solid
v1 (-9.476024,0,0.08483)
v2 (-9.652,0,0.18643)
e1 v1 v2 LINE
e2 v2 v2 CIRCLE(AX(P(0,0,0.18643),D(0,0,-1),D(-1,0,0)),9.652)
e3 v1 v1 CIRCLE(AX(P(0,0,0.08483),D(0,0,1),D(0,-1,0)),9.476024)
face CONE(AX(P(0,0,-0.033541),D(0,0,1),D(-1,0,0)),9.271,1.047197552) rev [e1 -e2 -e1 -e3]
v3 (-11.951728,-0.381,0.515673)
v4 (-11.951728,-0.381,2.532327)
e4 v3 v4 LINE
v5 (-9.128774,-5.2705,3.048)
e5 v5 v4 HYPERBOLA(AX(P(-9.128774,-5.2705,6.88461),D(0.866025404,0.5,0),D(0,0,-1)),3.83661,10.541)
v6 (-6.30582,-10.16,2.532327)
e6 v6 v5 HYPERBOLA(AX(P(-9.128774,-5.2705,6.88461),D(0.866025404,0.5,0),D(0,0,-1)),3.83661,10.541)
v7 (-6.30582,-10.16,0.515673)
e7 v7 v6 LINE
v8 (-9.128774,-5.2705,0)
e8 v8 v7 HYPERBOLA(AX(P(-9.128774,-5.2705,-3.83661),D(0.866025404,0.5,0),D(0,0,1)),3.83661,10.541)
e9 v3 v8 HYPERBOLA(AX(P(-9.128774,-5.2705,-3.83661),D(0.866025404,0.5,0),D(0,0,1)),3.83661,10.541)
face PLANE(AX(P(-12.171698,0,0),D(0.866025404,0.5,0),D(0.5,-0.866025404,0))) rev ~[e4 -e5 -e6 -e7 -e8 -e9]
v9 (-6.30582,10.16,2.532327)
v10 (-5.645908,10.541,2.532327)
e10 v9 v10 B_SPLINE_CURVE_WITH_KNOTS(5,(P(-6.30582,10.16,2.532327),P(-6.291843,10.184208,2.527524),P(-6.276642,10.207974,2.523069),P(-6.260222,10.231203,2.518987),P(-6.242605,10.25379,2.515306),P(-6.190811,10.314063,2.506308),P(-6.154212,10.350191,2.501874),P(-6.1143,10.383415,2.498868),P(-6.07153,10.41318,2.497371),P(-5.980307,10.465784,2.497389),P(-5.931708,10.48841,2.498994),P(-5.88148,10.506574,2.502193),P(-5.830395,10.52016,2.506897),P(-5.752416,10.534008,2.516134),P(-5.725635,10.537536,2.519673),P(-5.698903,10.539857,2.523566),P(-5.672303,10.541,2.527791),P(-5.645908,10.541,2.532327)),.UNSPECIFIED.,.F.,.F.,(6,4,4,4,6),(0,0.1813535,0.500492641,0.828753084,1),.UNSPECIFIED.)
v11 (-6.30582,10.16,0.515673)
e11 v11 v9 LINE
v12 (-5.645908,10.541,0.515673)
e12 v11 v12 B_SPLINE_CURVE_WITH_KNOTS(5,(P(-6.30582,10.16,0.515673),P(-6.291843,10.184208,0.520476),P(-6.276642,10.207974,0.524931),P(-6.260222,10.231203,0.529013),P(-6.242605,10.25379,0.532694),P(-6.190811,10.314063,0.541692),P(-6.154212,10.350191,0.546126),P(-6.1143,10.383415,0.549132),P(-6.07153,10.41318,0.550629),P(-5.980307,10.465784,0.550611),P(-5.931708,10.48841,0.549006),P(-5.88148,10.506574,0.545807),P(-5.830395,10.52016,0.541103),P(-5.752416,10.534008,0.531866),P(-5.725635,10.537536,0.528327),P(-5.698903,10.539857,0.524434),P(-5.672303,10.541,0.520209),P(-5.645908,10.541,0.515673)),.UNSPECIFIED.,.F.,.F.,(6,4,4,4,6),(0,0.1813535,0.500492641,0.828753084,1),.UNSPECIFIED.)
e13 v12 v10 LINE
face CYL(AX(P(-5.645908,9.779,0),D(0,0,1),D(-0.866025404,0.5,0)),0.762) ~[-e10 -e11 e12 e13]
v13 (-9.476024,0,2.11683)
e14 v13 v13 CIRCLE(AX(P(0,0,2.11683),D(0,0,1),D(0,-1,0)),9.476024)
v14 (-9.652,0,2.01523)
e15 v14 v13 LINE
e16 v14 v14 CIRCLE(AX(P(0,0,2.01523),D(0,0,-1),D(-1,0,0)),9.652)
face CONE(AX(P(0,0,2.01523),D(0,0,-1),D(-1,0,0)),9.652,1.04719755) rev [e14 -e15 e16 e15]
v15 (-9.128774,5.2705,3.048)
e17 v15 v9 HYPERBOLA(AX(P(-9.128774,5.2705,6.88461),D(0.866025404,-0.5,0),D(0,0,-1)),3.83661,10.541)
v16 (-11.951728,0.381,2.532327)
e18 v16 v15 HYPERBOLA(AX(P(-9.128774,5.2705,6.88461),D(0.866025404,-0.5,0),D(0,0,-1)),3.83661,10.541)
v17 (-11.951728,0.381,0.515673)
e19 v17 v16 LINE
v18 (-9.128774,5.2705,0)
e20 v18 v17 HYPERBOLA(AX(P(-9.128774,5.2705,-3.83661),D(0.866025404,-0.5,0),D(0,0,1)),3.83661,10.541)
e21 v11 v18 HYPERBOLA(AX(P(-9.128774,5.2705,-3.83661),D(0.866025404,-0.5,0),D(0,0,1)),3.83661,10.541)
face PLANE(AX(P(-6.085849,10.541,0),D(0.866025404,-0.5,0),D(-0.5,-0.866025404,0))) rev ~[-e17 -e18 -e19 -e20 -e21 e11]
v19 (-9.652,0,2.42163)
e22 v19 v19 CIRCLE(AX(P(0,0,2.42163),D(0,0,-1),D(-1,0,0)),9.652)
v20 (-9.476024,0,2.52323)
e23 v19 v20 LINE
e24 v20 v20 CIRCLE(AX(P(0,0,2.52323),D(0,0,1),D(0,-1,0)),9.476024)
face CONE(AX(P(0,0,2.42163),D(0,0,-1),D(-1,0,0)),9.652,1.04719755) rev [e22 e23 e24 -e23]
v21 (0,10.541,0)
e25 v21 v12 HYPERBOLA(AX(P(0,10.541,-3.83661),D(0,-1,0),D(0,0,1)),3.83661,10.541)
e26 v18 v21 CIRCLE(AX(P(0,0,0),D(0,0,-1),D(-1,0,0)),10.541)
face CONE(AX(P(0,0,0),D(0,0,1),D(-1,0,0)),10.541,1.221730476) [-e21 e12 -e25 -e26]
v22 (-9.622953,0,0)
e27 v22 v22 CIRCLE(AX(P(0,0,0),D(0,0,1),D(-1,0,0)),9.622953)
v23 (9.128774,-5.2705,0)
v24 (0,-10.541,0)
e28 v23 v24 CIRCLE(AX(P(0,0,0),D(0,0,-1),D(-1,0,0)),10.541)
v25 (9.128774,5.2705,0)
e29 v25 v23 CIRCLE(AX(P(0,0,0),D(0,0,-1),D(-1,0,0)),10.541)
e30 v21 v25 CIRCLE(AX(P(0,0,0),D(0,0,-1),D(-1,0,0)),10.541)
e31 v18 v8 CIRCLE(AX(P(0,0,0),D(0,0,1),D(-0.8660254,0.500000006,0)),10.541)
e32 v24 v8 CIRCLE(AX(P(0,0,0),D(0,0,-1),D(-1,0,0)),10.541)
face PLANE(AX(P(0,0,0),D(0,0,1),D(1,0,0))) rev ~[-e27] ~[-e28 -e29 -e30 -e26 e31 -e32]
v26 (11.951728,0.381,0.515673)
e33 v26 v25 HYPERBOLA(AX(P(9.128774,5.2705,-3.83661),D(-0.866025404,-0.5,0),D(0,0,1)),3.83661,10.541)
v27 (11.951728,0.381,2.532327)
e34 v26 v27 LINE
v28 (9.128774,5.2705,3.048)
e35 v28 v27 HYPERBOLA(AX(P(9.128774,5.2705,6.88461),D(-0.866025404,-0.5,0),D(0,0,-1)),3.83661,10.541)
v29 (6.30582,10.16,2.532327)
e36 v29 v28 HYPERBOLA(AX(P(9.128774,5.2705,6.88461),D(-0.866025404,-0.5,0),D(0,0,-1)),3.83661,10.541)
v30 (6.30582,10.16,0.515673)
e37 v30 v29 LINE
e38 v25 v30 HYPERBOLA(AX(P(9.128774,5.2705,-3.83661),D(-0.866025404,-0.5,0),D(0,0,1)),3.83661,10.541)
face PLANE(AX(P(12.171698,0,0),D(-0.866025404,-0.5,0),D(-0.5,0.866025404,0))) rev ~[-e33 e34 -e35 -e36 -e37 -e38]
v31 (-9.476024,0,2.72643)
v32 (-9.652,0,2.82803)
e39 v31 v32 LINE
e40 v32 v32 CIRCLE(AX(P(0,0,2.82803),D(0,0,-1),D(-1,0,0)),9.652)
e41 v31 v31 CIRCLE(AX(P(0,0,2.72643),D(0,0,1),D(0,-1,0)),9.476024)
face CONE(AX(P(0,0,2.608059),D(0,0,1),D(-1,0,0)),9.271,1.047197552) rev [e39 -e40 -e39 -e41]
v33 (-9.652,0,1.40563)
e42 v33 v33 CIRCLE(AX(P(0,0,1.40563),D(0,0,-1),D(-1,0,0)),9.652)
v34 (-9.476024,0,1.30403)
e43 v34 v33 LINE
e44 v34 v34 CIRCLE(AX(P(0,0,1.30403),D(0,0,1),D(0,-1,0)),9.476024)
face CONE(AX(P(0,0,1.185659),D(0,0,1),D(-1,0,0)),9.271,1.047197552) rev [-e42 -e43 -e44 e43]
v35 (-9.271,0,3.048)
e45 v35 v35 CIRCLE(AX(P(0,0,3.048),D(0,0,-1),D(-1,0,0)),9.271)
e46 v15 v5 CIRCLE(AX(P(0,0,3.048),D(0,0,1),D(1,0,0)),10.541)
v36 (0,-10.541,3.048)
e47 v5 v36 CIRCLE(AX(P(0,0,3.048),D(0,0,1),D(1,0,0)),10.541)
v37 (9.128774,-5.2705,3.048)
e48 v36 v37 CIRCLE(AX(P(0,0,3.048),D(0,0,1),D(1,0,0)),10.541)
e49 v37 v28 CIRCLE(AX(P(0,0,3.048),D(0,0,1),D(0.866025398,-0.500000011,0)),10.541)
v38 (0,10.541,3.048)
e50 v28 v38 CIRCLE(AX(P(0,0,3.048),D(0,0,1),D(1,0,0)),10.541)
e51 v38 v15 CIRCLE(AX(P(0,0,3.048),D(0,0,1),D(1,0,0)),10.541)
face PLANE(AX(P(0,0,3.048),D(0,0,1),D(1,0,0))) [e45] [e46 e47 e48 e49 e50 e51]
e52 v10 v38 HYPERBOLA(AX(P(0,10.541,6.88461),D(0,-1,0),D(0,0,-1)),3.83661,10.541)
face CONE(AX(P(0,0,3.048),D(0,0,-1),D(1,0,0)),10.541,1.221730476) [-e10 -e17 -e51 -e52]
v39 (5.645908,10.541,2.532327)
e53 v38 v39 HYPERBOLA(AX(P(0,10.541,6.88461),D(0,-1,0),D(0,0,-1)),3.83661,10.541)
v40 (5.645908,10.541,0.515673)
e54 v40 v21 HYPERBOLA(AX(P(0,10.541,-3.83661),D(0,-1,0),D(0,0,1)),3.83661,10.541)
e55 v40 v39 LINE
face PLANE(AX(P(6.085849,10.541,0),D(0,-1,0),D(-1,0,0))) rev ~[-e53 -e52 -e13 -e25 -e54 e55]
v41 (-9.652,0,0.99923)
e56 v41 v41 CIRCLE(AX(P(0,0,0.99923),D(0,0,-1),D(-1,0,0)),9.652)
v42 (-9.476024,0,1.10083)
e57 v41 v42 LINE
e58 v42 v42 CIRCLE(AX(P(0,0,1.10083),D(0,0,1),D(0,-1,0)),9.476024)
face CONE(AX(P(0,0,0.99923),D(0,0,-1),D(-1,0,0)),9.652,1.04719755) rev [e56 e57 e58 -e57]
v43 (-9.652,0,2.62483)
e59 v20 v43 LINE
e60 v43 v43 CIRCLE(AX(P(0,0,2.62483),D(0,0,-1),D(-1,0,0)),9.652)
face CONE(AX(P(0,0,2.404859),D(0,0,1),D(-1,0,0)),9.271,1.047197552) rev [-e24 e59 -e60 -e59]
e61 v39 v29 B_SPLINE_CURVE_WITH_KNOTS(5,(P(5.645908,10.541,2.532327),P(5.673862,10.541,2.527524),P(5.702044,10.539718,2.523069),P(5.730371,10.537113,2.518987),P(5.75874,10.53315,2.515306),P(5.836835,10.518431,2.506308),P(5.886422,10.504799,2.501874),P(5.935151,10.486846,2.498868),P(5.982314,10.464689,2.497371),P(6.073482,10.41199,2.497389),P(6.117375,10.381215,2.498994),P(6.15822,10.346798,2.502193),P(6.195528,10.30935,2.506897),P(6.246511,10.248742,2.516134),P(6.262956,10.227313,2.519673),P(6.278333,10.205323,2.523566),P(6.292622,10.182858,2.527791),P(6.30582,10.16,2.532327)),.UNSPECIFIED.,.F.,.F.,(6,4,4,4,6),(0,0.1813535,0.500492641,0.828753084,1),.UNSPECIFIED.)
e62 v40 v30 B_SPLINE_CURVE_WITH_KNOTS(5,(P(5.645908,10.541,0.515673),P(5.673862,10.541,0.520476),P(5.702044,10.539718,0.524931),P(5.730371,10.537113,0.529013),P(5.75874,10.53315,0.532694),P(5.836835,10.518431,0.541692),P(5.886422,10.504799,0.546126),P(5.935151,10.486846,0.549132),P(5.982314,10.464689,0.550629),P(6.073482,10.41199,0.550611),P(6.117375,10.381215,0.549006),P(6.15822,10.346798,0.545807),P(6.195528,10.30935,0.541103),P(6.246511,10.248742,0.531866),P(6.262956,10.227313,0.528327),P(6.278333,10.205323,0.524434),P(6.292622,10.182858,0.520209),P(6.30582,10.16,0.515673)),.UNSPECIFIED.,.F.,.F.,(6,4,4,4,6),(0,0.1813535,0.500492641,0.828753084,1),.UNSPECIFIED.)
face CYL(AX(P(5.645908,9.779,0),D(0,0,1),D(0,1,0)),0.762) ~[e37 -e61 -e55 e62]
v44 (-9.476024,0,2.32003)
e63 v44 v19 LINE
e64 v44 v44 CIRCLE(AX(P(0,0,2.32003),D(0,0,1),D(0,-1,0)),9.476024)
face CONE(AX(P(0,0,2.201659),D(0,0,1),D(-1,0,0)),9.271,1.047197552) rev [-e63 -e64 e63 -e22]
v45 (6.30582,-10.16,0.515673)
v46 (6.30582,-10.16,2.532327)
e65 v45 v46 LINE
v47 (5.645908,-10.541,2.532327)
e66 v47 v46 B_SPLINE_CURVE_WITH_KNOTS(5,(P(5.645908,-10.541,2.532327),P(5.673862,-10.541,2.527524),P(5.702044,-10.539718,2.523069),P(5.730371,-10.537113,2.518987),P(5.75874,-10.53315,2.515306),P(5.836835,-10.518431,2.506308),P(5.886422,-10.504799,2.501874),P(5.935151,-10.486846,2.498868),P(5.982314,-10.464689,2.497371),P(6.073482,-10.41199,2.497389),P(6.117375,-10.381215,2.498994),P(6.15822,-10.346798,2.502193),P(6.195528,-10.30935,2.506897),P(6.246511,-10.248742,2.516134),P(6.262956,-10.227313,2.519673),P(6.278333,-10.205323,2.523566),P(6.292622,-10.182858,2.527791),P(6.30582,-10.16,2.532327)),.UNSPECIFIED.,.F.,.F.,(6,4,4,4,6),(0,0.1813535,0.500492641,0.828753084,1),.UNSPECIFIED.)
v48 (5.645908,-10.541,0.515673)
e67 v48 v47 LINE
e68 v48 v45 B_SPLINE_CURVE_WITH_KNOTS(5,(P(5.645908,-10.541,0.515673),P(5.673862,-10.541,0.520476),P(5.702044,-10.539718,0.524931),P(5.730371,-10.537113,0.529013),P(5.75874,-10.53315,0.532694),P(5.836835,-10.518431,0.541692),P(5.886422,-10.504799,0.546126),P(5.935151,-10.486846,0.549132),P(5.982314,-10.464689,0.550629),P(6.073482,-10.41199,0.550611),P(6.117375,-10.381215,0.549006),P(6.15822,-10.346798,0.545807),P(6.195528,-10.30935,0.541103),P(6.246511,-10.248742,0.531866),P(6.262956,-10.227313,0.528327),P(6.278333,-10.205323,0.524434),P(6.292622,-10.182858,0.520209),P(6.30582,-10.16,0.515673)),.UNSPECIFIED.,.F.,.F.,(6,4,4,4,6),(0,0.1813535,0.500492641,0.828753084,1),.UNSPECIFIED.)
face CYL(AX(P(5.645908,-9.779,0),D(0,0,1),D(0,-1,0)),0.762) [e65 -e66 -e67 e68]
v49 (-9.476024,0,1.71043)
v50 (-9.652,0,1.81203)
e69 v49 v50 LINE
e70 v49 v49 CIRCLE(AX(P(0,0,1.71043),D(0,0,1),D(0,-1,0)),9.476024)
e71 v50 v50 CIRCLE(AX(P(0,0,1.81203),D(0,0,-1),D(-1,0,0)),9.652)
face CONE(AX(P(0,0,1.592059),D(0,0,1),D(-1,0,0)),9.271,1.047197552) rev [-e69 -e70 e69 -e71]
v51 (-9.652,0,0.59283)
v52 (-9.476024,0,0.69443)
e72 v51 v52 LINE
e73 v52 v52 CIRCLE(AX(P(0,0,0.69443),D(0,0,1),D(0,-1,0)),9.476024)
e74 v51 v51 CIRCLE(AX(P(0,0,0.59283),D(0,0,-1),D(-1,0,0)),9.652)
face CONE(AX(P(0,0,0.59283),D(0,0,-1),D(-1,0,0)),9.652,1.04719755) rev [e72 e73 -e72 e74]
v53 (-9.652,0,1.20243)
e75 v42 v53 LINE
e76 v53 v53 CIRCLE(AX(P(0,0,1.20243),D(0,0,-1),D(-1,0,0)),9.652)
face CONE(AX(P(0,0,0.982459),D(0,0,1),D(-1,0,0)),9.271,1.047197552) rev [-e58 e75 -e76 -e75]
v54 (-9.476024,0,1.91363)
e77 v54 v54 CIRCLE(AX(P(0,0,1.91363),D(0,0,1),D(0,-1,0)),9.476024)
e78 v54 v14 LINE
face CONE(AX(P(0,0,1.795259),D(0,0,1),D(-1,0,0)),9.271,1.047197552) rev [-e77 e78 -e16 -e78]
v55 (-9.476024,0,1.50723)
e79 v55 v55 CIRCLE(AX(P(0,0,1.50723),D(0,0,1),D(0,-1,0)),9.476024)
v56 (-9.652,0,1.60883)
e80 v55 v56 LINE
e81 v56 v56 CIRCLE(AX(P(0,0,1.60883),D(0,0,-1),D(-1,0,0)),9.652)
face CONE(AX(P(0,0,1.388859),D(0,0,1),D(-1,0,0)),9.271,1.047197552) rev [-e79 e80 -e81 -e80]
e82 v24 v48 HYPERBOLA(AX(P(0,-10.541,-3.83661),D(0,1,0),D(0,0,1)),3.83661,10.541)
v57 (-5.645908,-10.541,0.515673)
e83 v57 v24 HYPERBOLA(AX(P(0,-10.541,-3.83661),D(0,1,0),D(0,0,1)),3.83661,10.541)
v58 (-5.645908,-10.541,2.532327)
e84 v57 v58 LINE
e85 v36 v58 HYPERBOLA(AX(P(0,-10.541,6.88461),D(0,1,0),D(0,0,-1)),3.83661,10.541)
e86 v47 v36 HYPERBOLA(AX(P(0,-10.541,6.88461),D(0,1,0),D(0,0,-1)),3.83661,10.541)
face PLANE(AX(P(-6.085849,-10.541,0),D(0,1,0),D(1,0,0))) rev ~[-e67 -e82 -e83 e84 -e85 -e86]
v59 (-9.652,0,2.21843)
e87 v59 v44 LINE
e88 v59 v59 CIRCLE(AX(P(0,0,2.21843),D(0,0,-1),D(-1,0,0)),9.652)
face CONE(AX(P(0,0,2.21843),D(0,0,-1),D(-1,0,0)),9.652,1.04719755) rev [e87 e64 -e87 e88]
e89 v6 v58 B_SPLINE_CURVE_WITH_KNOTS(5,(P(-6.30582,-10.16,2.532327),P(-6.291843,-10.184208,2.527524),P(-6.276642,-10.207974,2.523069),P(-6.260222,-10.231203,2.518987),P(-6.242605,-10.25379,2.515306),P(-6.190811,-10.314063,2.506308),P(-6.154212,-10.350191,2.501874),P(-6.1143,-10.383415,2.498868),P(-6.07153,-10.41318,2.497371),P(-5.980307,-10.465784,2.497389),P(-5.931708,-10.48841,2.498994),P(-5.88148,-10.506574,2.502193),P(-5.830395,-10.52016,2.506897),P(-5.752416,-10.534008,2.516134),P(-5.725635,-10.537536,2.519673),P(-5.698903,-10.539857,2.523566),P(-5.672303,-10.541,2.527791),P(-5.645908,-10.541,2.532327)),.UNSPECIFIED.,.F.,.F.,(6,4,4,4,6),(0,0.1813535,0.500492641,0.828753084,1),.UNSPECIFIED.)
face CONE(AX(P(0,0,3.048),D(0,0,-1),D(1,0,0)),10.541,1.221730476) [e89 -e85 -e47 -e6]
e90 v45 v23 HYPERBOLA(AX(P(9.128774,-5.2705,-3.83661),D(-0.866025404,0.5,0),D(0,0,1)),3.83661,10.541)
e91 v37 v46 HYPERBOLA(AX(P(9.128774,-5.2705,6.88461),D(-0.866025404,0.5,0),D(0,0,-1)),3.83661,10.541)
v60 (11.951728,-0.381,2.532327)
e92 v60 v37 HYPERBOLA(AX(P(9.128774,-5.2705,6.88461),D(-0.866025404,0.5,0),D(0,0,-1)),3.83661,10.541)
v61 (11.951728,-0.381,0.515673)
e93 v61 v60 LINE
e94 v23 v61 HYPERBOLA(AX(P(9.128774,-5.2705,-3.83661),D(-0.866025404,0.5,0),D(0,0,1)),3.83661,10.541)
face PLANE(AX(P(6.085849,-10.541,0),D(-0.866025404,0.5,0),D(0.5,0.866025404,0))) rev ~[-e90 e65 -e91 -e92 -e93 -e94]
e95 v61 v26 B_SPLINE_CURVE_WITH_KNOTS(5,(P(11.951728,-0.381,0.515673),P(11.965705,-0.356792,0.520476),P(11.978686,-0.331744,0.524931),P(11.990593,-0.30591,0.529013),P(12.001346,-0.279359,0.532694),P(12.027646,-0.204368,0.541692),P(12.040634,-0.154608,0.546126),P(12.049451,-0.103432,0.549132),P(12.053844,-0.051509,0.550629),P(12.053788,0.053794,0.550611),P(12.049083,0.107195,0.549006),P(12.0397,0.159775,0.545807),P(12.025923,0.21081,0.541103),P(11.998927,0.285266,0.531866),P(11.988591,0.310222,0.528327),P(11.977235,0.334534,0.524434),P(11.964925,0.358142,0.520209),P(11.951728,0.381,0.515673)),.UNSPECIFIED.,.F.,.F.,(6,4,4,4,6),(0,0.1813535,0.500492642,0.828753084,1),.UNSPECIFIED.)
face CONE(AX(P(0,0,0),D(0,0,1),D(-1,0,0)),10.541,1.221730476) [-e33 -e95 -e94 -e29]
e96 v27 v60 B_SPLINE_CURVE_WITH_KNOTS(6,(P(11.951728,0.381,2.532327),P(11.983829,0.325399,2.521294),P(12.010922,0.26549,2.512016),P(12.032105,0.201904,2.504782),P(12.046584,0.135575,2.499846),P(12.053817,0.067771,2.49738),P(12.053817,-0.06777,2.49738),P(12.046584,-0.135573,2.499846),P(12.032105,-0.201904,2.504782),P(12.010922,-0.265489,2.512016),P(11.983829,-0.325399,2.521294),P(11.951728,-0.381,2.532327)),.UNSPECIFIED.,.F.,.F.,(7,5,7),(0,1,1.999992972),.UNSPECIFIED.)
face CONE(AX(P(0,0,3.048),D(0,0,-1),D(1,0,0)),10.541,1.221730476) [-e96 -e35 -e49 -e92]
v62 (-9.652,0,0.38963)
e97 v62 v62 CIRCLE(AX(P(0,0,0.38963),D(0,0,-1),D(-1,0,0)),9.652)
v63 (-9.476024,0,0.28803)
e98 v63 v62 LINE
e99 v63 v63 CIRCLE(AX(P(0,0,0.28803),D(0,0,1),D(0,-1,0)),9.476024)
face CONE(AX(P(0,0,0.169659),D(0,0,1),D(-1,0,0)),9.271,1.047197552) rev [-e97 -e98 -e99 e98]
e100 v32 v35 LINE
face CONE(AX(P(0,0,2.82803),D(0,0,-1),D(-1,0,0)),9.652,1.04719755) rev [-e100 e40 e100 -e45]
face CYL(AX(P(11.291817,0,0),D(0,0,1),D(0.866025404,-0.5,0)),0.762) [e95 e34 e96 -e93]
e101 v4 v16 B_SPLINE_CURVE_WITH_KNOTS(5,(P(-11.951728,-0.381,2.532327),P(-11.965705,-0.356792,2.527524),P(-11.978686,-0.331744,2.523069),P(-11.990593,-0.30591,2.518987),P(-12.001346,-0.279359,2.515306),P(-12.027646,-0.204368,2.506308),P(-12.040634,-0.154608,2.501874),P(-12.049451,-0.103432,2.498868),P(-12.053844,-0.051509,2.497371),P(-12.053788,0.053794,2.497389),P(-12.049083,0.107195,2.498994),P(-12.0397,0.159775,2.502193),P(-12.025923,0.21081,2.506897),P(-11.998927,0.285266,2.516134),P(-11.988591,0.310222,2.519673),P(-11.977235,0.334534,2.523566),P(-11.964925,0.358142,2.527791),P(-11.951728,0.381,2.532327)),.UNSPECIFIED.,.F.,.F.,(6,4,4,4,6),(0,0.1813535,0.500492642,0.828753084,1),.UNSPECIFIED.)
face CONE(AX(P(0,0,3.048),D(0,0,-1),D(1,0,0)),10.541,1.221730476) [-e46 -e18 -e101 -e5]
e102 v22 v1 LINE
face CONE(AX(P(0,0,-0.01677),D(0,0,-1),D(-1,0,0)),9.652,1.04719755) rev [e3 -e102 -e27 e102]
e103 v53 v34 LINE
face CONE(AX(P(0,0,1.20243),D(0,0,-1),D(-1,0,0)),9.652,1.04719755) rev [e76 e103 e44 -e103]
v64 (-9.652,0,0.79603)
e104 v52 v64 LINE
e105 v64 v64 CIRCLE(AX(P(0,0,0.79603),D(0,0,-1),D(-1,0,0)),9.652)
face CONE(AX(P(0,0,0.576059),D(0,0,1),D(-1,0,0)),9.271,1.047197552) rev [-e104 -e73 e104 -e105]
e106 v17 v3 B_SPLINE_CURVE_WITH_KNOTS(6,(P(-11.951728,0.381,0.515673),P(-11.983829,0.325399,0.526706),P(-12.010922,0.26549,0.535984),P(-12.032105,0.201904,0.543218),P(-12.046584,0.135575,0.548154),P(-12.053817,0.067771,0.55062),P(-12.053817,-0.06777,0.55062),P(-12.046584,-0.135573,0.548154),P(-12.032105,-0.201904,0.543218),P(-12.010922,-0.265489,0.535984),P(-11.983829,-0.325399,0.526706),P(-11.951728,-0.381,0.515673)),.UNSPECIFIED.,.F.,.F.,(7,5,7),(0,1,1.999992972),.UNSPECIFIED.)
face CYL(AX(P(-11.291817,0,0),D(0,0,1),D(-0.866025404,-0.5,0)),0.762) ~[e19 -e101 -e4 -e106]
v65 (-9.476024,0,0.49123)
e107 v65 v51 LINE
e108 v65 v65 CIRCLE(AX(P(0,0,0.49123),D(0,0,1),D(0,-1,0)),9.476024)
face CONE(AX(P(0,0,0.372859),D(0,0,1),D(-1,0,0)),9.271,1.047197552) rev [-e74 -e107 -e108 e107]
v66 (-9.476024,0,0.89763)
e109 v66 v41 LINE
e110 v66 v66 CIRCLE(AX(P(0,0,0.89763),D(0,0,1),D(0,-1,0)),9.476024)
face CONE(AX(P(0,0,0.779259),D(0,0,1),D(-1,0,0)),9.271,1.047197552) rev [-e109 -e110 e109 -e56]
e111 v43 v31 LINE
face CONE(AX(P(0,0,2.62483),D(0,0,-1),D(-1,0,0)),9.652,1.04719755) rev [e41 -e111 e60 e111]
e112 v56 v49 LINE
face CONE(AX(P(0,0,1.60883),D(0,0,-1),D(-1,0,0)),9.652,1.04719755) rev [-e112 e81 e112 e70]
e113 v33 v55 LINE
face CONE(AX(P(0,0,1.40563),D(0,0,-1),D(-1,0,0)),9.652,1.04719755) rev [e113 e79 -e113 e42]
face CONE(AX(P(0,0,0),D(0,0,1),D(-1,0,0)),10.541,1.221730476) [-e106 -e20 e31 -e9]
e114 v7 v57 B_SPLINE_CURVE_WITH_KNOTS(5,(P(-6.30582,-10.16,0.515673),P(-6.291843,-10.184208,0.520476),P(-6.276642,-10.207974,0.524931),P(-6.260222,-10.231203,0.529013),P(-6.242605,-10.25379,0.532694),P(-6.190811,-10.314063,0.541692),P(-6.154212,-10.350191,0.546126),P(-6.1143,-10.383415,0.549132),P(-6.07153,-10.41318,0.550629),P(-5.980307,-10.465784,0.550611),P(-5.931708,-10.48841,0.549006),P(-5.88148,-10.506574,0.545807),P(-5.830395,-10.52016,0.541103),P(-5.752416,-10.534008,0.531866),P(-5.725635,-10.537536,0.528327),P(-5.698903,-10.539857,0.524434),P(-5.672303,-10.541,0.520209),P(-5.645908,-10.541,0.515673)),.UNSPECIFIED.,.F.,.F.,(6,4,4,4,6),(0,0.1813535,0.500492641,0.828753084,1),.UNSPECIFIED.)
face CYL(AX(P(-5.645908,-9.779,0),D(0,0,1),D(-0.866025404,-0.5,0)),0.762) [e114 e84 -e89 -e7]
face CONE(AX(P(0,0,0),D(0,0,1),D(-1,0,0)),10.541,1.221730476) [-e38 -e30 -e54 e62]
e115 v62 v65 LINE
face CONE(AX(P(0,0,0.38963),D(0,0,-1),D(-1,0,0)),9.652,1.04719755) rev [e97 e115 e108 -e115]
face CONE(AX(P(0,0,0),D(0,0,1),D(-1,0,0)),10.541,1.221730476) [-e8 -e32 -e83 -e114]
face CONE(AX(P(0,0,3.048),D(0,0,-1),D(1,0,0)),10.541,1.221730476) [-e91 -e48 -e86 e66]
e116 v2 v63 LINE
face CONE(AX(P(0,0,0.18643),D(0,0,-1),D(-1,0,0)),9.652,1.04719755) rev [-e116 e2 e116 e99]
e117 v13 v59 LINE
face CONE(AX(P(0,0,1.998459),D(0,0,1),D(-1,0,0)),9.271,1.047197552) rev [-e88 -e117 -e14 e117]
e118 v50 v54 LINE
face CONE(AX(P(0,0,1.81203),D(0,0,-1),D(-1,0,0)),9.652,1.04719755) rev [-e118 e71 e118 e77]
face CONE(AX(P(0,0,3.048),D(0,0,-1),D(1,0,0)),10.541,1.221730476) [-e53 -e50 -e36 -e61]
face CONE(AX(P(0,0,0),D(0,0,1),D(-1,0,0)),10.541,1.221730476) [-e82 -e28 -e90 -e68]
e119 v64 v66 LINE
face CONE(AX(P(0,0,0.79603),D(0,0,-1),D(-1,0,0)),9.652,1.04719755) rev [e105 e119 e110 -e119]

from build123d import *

# Parameters (mm, degrees)
SKETCH1_R          = 9.271
EXTRUDE1_DEPTH     = 3.048
FILLET1_R          = 0.762
SKETCH2_OUTSIDE_W  = 54.786
SKETCH2_OUTSIDE_H  = 51.76
SKETCH2_OUTSIDE_R  = 10.541
CUT_EXTRUDE1_DEPTH = 4.048
CUT_EXTRUDE1_DRAFT = -70
SKETCH3_OUTSIDE_W  = 54.786
SKETCH3_OUTSIDE_H  = 51.76
SKETCH3_OUTSIDE_R  = 10.541
CUT_EXTRUDE2_DEPTH = 4.0480001
CUT_EXTRUDE2_DRAFT = -70
LPATTERN1_COUNT    = 15
LPATTERN1_PITCH    = 0.2032


with BuildPart() as part:
    # Sketch1 → Extrude1 (new body)
    with BuildSketch(Plane.XY):
        Polygon((-12.171698375, 0), (-6.085849188, -10.541), (6.085849188, -10.541), (12.171698375, 0), (6.085849188, 10.541), (-6.085849188, 10.541), align=None)
        Circle(SKETCH1_R, mode=Mode.SUBTRACT)
    extrude(amount=EXTRUDE1_DEPTH)

    # Fillet1
    fillet1_edges = [part.edges().sort_by_distance(p)[0] for p in [
        (12.171698375, 0, 1.524),
        (6.085849188, -10.541, 1.524),
        (-6.085849188, -10.541, 1.524),
        (-12.171698375, 0, 1.524),
        (-6.085849188, 10.541, 1.524),
        (6.085849188, 10.541, 1.524),
    ]]
    fillet(fillet1_edges, radius=FILLET1_R)


with BuildPart() as cut_extrude1_tool:
    # Sketch2 outside → Cut-Extrude1 (with draft: the straight prism first)
    with BuildSketch(Plane.XY.offset(3.048)):
        Rectangle(SKETCH2_OUTSIDE_W, SKETCH2_OUTSIDE_H)
        Circle(SKETCH2_OUTSIDE_R, mode=Mode.SUBTRACT)
    extrude(amount=-CUT_EXTRUDE1_DEPTH)
    # Cut-Extrude1: the draft: its side faces are tilted about the plane it starts from
    cut_extrude1_sides = [cut_extrude1_tool.faces().sort_by_distance(p)[0] for p in [
        (0, -25.88, 1.024),
        (27.393, 0, 1.024),
        (0, 25.88, 1.024),
        (-27.393, 0, 1.024),
        (-10.541, 0, 1.024),
    ]]
    draft(cut_extrude1_sides, Plane.XY.offset(3.048), CUT_EXTRUDE1_DRAFT)


with BuildPart() as part_1:
    add(part.part)

    # Cut-Extrude1: cut by cut_extrude1_tool
    add(cut_extrude1_tool.part, mode=Mode.SUBTRACT)


with BuildPart() as cut_extrude2_tool:
    # Sketch3 outside → Cut-Extrude2 (with draft: the straight prism first)
    with BuildSketch(Plane(origin=(0, 0, 0), x_dir=(-1, 0, 0), z_dir=(0, 0, -1))):
        Rectangle(SKETCH3_OUTSIDE_W, SKETCH3_OUTSIDE_H)
        Circle(SKETCH3_OUTSIDE_R, mode=Mode.SUBTRACT)
    extrude(amount=-CUT_EXTRUDE2_DEPTH)
    # Cut-Extrude2: the draft: its side faces are tilted about the plane it starts from
    cut_extrude2_sides = [cut_extrude2_tool.faces().sort_by_distance(p)[0] for p in [
        (0, -25.88, 2.02400005),
        (-27.393, 0, 2.02400005),
        (0, 25.88, 2.02400005),
        (27.393, 0, 2.02400005),
        (10.541, 0, 2.02400005),
    ]]
    draft(cut_extrude2_sides, Plane(origin=(0, 0, 0), x_dir=(-1, 0, 0), z_dir=(0, 0, -1)), CUT_EXTRUDE2_DRAFT)


with BuildPart() as part_2:
    add(part_1.part)

    # Cut-Extrude2: cut by cut_extrude2_tool
    add(cut_extrude2_tool.part, mode=Mode.SUBTRACT)

    # Sketch4 → Cut-Revolve1 (revolve, cut)
    with BuildSketch(Plane(origin=(0, 0, 0), x_dir=(1, 0, 0), z_dir=(0, 1, 0))):
        Polygon((-9.271, -3.048), (-9.271, -2.608059095), (-9.652, -2.828029547), align=None)
    cut_revolve1 = revolve(axis=Axis((0, 0, 3.048), (0, 0, -1)), mode=Mode.SUBTRACT)

    # LPattern1: Cut-Revolve1 ×15
    with Locations(*[(0, 0, -i * LPATTERN1_PITCH) for i in range(1, LPATTERN1_COUNT)]):
        add(cut_revolve1, mode=Mode.SUBTRACT)


solid = part_2.part
